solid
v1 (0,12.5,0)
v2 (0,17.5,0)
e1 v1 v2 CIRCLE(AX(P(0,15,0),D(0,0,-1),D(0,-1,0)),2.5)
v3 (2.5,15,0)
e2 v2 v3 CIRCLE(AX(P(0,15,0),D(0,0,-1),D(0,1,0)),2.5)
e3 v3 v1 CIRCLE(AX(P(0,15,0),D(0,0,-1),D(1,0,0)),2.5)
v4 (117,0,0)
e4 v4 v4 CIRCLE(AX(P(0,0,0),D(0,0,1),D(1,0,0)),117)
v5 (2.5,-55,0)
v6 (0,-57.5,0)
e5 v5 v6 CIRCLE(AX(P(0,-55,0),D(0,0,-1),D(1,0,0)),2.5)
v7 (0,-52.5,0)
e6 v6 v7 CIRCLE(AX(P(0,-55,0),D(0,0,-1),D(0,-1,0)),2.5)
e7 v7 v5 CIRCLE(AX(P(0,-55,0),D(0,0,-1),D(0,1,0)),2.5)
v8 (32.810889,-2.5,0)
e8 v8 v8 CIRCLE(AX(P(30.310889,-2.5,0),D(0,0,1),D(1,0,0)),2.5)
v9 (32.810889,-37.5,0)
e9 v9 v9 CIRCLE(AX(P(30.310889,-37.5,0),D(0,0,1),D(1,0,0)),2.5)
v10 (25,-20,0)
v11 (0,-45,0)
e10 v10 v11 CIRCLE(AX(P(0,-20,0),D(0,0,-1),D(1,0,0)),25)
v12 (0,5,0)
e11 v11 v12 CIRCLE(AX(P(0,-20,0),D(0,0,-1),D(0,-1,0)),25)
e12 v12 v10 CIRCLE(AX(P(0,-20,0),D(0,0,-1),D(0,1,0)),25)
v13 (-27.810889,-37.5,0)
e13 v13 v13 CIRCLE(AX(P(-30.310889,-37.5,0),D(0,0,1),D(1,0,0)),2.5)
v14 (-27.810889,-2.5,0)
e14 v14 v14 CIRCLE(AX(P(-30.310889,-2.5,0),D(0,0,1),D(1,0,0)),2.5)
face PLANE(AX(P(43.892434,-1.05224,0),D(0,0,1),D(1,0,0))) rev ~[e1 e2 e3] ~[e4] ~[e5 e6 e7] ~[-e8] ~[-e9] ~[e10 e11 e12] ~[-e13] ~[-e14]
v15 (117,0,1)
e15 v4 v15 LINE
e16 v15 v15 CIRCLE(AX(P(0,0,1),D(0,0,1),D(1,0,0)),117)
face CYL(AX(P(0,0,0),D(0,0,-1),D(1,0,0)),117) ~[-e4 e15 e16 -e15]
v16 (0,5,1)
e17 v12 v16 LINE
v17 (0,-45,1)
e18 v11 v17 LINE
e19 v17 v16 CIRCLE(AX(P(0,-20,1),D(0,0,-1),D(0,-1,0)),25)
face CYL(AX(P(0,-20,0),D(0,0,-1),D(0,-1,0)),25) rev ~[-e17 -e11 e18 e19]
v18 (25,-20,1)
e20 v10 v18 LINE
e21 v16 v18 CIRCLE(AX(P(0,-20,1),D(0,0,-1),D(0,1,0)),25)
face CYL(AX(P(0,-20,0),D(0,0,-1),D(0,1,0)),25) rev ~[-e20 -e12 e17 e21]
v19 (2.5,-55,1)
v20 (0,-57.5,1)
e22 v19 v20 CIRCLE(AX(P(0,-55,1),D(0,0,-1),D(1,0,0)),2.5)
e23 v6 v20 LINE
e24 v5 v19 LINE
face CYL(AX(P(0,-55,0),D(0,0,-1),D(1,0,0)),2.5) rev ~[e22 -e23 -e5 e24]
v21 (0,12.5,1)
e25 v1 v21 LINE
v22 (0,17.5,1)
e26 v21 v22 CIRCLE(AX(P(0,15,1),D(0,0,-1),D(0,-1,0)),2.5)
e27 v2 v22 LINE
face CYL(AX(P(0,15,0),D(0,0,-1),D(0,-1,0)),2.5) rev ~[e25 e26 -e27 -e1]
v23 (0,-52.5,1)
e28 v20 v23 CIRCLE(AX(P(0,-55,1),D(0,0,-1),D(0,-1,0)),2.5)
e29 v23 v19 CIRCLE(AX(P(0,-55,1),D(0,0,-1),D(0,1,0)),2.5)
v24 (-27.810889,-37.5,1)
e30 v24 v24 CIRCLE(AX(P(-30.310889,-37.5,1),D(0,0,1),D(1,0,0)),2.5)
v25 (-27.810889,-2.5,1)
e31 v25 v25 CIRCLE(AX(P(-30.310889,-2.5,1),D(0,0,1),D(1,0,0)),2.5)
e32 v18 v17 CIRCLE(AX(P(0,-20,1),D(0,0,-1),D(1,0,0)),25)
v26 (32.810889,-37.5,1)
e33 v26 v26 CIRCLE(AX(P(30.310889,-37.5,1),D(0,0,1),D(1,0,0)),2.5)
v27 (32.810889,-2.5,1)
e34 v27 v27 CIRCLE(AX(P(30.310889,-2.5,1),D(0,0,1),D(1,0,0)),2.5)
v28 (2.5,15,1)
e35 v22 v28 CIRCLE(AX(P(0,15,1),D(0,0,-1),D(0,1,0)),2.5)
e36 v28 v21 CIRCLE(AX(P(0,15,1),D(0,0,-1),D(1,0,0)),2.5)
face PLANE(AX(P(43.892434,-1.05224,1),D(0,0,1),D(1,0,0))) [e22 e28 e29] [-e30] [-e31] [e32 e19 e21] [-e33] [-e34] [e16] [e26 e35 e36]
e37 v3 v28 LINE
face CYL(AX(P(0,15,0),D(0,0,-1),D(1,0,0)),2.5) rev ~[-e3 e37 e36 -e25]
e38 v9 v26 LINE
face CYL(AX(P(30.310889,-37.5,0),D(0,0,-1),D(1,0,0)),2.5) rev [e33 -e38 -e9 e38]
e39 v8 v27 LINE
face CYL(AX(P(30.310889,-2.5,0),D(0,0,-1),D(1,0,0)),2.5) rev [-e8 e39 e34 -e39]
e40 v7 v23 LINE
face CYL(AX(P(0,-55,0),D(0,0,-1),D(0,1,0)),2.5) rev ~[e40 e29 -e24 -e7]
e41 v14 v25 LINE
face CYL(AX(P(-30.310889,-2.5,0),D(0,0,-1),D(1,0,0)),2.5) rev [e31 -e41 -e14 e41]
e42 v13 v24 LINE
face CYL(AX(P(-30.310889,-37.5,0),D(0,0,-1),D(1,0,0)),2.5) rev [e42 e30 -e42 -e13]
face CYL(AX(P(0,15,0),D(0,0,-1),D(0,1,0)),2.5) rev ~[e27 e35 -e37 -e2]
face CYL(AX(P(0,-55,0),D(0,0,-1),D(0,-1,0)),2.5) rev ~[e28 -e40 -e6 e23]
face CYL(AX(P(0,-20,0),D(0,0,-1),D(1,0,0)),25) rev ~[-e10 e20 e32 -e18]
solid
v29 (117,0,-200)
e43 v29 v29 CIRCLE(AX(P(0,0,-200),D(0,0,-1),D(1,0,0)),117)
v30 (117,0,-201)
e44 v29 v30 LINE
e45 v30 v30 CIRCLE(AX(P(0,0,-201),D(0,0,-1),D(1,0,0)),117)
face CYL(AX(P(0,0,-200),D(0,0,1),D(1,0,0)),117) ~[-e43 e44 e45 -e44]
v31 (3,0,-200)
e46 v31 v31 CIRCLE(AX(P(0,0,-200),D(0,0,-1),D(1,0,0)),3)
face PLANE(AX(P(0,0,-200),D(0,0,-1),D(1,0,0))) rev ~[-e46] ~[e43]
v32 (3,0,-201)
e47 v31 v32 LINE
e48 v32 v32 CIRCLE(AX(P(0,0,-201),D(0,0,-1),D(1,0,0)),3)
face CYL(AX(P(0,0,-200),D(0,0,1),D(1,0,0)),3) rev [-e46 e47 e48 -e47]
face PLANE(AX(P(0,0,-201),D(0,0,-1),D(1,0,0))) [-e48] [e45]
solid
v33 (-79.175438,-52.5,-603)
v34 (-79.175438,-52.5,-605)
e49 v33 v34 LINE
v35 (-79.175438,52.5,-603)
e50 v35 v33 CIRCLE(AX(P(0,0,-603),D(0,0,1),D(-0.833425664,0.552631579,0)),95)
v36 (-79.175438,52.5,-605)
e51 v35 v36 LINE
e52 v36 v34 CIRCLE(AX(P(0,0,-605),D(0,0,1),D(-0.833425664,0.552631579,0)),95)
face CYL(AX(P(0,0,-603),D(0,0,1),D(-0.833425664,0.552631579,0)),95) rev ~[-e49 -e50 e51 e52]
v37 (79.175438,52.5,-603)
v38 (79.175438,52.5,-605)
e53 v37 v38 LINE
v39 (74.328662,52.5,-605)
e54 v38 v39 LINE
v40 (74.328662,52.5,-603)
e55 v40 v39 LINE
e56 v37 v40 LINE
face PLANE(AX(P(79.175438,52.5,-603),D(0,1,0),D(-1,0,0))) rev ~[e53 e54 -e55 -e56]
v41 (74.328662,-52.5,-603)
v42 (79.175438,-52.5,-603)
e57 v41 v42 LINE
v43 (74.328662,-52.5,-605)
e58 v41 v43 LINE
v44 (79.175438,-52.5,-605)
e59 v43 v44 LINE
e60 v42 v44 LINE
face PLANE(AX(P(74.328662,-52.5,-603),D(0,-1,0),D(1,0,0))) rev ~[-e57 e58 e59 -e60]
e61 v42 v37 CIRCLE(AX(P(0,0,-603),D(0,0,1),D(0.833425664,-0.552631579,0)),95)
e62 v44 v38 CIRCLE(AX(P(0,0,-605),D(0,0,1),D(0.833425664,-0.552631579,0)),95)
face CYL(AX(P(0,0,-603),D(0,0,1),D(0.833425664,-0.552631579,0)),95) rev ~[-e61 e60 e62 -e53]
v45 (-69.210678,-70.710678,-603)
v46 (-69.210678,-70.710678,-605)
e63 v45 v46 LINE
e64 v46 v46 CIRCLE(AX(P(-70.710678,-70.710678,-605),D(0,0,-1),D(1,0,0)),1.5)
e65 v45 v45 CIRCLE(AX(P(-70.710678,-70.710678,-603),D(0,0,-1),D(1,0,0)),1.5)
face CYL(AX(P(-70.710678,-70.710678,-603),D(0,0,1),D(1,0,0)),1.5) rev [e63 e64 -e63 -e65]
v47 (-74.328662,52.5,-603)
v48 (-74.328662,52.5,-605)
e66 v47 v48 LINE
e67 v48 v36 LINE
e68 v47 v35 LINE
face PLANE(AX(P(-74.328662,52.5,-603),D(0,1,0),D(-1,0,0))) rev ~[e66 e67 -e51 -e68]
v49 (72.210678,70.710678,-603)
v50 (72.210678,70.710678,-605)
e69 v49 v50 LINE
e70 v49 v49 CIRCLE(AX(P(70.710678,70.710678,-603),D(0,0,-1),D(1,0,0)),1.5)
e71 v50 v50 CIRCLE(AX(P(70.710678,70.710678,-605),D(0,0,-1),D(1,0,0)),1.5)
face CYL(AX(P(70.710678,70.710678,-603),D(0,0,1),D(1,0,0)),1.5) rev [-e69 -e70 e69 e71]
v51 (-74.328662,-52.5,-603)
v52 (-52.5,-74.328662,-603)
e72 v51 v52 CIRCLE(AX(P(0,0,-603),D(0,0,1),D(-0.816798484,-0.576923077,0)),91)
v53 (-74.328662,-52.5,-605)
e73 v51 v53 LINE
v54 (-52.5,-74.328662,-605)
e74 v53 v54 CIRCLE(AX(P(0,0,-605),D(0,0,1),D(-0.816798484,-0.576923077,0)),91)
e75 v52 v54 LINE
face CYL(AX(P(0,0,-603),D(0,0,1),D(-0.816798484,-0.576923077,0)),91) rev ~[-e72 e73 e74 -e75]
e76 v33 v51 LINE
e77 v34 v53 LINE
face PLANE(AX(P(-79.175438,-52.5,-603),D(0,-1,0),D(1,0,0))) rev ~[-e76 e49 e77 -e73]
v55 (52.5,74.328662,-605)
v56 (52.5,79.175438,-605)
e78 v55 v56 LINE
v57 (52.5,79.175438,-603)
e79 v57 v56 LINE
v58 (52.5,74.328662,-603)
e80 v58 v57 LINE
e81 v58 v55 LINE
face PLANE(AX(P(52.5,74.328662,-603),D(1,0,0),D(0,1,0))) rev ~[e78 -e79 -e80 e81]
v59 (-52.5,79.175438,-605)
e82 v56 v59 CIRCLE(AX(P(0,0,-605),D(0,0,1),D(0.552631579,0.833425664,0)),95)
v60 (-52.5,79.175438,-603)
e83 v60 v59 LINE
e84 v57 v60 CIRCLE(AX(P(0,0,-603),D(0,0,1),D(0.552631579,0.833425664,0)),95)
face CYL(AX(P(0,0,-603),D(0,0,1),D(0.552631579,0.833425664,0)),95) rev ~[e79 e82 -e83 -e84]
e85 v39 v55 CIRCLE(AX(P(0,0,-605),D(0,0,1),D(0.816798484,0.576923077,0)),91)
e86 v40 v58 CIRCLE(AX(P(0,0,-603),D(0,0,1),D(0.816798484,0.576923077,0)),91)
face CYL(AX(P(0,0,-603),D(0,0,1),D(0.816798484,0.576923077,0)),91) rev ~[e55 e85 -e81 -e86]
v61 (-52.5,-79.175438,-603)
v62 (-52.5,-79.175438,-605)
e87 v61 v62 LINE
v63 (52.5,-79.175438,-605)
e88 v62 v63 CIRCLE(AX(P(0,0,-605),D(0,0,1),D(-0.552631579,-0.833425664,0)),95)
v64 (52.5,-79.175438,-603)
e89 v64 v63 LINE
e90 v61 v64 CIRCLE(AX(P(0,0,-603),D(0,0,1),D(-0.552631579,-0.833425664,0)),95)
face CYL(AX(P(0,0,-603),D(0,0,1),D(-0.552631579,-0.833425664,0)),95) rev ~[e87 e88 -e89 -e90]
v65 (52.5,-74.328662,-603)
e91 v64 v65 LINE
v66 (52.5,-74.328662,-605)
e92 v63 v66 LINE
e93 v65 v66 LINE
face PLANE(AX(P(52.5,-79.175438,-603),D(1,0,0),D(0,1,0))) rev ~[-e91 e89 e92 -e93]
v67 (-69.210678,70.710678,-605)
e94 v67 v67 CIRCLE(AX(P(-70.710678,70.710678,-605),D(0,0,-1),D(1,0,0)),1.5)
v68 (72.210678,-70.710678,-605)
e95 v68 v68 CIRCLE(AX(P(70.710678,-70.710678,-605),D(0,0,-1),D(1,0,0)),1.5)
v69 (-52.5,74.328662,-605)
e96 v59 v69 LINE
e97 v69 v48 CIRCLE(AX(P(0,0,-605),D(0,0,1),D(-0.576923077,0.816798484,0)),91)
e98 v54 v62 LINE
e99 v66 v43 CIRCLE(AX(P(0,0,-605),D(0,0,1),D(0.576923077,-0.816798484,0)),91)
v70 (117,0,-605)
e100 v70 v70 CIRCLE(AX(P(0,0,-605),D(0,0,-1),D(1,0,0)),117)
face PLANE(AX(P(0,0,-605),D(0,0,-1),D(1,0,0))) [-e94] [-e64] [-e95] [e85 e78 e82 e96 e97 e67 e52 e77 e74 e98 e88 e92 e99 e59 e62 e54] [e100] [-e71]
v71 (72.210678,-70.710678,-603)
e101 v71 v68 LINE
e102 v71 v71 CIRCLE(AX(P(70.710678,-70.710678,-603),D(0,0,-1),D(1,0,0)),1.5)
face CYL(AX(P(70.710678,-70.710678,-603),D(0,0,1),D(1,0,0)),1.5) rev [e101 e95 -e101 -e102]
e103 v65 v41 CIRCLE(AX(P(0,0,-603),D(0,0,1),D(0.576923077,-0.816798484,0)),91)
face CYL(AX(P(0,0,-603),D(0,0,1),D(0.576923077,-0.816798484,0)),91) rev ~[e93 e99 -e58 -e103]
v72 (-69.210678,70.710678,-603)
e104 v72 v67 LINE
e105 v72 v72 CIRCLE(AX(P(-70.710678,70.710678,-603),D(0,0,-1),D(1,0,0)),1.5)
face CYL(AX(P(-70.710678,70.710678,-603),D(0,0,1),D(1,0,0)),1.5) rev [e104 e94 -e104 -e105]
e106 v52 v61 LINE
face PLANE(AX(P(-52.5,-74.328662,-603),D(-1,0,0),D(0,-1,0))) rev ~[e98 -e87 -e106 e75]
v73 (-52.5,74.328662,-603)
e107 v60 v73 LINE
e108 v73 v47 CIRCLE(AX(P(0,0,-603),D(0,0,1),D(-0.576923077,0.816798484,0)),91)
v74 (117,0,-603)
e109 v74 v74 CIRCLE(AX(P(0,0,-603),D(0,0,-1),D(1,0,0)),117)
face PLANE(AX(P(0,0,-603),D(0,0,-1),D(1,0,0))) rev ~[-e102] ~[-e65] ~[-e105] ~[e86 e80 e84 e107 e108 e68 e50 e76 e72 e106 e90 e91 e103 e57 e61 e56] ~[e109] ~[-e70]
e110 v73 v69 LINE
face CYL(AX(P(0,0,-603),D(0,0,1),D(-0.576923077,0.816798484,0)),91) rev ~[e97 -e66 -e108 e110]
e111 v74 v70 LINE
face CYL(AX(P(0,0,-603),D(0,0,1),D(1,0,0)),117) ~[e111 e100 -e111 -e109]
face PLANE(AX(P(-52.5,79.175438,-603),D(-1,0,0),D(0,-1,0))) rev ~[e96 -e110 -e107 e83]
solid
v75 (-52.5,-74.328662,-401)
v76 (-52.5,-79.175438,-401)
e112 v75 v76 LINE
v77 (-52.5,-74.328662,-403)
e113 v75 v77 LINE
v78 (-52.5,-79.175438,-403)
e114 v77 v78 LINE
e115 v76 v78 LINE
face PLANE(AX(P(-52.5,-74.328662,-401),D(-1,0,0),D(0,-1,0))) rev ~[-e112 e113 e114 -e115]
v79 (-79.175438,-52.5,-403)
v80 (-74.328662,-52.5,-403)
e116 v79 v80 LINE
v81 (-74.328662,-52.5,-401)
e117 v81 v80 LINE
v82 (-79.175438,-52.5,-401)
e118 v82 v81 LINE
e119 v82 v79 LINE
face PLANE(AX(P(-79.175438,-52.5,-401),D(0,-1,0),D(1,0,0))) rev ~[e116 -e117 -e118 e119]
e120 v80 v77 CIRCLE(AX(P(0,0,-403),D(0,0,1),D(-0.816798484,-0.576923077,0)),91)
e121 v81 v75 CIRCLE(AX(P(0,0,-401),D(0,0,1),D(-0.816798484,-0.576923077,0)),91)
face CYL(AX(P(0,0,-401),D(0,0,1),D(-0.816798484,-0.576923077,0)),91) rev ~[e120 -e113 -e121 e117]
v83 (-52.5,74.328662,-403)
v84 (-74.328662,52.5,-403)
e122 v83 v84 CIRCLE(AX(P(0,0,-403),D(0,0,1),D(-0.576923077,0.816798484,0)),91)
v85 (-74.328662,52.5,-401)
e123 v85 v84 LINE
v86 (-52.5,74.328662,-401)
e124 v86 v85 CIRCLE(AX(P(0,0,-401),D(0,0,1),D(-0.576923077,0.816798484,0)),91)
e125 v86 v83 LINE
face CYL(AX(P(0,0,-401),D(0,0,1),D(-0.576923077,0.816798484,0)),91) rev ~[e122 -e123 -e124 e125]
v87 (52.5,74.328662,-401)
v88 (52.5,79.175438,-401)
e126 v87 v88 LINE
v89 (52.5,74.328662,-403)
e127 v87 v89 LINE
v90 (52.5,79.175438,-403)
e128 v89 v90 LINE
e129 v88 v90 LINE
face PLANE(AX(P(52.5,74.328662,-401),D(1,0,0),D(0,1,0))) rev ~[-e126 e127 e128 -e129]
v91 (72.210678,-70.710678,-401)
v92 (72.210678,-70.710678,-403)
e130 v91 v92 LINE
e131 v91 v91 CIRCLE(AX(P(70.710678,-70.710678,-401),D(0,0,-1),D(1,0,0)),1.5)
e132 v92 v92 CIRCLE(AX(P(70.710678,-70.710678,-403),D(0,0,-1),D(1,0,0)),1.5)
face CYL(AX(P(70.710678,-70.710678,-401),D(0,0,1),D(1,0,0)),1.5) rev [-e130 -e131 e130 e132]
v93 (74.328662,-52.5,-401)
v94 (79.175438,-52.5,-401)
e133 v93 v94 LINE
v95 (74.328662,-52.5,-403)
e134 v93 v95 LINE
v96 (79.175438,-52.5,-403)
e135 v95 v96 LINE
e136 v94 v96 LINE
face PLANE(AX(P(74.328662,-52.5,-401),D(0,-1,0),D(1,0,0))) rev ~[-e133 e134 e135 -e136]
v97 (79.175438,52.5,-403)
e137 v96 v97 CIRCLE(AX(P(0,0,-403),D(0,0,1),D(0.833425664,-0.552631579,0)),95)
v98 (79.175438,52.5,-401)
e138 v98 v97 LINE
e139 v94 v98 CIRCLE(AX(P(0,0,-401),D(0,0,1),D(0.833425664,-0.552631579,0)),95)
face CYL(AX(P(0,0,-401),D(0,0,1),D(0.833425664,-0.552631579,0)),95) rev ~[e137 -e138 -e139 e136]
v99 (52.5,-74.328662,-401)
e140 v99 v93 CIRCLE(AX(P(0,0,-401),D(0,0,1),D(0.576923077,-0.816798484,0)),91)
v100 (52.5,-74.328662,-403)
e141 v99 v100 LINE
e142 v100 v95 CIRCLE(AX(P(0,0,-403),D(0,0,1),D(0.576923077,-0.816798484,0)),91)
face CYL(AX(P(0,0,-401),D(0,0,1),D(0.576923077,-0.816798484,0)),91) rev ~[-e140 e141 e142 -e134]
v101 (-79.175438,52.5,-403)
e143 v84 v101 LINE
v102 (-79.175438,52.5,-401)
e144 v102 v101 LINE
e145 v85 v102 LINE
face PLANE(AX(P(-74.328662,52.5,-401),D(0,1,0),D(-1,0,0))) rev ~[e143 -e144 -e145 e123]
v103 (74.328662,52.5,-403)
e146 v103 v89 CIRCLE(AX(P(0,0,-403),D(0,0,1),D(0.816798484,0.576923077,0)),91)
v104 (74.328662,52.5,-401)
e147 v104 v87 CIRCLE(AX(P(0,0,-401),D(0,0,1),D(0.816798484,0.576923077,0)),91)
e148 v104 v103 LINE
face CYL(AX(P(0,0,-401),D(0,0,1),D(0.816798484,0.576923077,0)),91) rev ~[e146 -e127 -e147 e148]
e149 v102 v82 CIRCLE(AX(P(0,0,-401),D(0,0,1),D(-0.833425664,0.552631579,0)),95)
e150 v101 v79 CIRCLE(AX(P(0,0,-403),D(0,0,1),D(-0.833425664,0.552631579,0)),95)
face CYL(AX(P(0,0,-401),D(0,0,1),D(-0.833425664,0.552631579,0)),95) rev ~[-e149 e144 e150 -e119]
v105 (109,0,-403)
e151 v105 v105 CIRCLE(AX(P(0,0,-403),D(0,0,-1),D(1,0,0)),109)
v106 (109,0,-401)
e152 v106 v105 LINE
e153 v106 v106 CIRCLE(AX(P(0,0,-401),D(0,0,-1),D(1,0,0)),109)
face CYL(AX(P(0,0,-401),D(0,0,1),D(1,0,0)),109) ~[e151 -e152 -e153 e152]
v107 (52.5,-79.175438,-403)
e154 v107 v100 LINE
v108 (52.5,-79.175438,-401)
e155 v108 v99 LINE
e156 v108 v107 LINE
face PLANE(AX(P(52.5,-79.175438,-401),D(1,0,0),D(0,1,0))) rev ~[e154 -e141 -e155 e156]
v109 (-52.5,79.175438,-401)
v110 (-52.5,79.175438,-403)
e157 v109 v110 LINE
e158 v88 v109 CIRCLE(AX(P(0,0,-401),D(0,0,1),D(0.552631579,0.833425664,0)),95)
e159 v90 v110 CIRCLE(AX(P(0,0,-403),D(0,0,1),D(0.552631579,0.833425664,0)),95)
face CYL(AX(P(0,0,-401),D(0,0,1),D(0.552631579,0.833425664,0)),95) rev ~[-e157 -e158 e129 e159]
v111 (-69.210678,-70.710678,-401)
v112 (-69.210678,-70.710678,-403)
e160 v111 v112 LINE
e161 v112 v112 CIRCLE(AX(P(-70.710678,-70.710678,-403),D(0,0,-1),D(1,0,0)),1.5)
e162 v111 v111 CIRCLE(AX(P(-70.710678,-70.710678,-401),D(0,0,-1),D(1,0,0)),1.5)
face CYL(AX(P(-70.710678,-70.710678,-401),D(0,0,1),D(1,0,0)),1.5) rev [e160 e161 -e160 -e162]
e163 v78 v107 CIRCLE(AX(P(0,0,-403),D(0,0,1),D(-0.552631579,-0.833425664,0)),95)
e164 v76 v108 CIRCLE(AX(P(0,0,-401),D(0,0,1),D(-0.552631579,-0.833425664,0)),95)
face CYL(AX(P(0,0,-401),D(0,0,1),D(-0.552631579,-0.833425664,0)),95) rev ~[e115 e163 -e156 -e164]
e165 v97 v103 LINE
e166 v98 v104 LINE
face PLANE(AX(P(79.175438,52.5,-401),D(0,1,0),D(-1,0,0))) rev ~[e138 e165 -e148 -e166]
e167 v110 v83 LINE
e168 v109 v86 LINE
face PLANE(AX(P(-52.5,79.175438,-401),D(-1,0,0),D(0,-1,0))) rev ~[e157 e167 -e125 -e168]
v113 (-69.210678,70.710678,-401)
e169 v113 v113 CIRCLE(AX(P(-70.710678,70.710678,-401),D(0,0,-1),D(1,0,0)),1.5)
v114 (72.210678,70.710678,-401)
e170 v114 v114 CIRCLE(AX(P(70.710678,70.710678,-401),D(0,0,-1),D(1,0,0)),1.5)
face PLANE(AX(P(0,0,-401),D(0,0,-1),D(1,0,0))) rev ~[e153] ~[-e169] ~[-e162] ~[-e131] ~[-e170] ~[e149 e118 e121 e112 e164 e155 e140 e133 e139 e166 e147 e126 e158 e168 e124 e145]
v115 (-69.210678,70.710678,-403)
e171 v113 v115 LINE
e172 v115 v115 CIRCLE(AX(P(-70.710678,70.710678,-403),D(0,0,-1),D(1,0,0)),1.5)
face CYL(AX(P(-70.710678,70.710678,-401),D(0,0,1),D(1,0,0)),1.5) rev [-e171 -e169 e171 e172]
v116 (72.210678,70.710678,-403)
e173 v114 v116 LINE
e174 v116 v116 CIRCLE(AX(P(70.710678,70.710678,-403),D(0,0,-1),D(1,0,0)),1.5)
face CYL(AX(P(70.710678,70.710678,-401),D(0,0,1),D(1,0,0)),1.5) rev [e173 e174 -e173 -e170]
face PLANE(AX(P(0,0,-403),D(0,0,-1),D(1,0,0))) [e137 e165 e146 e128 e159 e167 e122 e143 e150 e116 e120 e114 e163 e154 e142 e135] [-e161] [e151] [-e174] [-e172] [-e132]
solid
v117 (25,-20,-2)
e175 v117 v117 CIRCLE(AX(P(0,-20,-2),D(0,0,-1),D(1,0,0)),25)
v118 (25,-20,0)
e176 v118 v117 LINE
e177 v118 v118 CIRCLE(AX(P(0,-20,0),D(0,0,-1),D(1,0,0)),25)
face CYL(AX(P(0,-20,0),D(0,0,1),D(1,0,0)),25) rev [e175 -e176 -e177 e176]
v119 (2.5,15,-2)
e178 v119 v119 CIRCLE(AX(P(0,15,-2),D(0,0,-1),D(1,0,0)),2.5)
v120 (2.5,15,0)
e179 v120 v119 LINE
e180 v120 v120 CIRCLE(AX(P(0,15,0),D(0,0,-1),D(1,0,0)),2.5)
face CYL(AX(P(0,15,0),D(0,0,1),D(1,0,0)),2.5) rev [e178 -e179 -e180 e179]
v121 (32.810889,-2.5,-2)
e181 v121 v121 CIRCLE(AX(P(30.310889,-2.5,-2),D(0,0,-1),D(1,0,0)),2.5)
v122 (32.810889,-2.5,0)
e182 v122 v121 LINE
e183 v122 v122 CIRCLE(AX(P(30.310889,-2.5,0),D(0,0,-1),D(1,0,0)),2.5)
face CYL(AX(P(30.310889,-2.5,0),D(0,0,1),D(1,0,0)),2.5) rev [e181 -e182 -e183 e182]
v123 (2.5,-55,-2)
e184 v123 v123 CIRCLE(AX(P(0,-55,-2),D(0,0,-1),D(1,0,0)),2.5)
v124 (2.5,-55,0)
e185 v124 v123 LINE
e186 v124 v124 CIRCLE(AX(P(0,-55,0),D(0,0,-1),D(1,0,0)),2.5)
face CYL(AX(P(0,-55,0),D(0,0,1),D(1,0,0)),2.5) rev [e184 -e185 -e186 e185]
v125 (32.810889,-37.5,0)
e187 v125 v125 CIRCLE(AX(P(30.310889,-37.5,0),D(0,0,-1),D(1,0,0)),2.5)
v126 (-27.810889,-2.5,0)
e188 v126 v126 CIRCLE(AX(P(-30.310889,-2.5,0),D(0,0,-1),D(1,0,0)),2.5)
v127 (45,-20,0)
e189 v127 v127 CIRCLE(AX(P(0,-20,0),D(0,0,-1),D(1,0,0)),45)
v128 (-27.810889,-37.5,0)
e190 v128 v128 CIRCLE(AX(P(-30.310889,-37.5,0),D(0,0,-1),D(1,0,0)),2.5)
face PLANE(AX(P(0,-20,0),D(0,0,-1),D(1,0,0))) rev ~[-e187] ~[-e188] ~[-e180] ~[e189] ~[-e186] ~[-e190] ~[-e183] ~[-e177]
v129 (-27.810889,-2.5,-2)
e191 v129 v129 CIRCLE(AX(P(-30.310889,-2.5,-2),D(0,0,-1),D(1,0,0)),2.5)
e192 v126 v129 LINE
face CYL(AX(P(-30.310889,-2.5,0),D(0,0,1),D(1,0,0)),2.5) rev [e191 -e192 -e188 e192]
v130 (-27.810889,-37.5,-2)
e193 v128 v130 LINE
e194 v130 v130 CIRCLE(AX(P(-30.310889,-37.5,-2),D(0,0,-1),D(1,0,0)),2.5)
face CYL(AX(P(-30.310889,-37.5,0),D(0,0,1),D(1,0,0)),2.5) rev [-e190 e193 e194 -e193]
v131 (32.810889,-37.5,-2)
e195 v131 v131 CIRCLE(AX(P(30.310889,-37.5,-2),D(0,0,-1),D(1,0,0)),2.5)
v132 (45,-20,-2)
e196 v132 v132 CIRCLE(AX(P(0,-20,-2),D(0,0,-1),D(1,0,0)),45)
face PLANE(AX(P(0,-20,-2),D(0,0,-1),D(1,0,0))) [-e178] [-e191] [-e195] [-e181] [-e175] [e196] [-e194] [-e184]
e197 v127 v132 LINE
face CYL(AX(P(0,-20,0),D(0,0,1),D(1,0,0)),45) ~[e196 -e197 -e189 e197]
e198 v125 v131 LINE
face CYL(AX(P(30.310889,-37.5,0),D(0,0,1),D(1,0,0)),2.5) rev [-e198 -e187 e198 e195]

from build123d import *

# Parameters (mm, degrees)
F0_R      = 2.5
F1_DEPTH  = 1
F2_R      = 45
F2_R_2    = 2.5
F2_R_3    = 25
F3_DEPTH  = 2
F5_R      = 117
F5_R_2    = 3
F6_DEPTH  = 1
F8_R      = 109
F8_R_2    = 1.5
F9_DEPTH  = 2
F11_R     = 117
F11_R_2   = 1.5
F12_DEPTH = 2


with BuildPart() as f1:
    # F0 (on Top) → F1 (new body)
    with BuildSketch(Plane.XY):
        with BuildLine():
            ThreePointArc((0, -117), (82.7314933988, -82.7314933988), (117, 0))
            ThreePointArc((117, 0), (82.7314933988, 82.7314933988), (0, 117))
            Line((0, 117), (0, 17.5))
            ThreePointArc((0, 17.5), (1.767766953, 16.767766953), (2.5, 15))
            ThreePointArc((2.5, 15), (1.767766953, 13.232233047), (0, 12.5))
            Line((0, 12.5), (0, 5))
            ThreePointArc((0, 5), (17.6776695297, -2.3223304703), (25, -20))
            ThreePointArc((25, -20), (17.6776695297, -37.6776695297), (0, -45))
            Line((0, -45), (0, -52.5))
            ThreePointArc((0, -52.5), (1.767766953, -53.232233047), (2.5, -55))
            ThreePointArc((2.5, -55), (1.767766953, -56.767766953), (0, -57.5))
            Line((0, -57.5), (0, -117))
        make_face()
        with Locations((30.3108891325, -37.5)):
            Circle(F0_R, mode=Mode.SUBTRACT)
        with Locations((30.3108891325, -2.5)):
            Circle(F0_R, mode=Mode.SUBTRACT)
        with BuildLine():
            Line((0, 17.5), (0, 117))
            ThreePointArc((0, 117), (-117, 0), (0, -117))
            Line((0, -117), (0, -57.5))
            ThreePointArc((0, -57.5), (-2.5, -55), (0, -52.5))
            Line((0, -52.5), (0, -45))
            ThreePointArc((0, -45), (-25, -20), (0, 5))
            Line((0, 5), (0, 12.5))
            ThreePointArc((0, 12.5), (-2.5, 15), (0, 17.5))
        make_face()
        with Locations((-30.3108891325, -37.5)):
            Circle(F0_R, mode=Mode.SUBTRACT)
        with Locations((-30.3108891325, -2.5)):
            Circle(F0_R, mode=Mode.SUBTRACT)
    extrude(amount=F1_DEPTH)


with BuildPart() as f3:
    # F2 (on face) → F3 (new body)
    with BuildSketch(Plane(origin=(0, 0, 0), x_dir=(1, 0, 0), z_dir=(0, 0, -1))):
        with Locations((0, 20)):
            Circle(F2_R)
        with Locations((-30.3108891325, 2.5)):
            Circle(F2_R_2, mode=Mode.SUBTRACT)
        with Locations((0, -15)):
            Circle(F2_R_2, mode=Mode.SUBTRACT)
        with Locations((30.3108891325, 2.5)):
            Circle(F2_R_2, mode=Mode.SUBTRACT)
        with Locations((-30.3108891325, 37.5)):
            Circle(F2_R_2, mode=Mode.SUBTRACT)
        with Locations((0, 20)):
            Circle(F2_R_3, mode=Mode.SUBTRACT)
        with Locations((30.3108891325, 37.5)):
            Circle(F2_R_2, mode=Mode.SUBTRACT)
        with Locations((0, 55)):
            Circle(F2_R_2, mode=Mode.SUBTRACT)
        with Locations((0, 20)):
            Circle(F2_R)
        with Locations((0, -15)):
            Circle(F2_R_2, mode=Mode.SUBTRACT)
        with Locations((-30.3108891325, 2.5)):
            Circle(F2_R_2, mode=Mode.SUBTRACT)
        with Locations((-30.3108891325, 37.5)):
            Circle(F2_R_2, mode=Mode.SUBTRACT)
        with Locations((0, 20)):
            Circle(F2_R_3, mode=Mode.SUBTRACT)
        with Locations((30.3108891325, 2.5)):
            Circle(F2_R_2, mode=Mode.SUBTRACT)
        with Locations((0, 55)):
            Circle(F2_R_2, mode=Mode.SUBTRACT)
        with Locations((30.3108891325, 37.5)):
            Circle(F2_R_2, mode=Mode.SUBTRACT)
    extrude(amount=F3_DEPTH)


with BuildPart() as f6:
    # F5 (on offset) → F6 (new body)
    with BuildSketch(Plane(origin=(0, 0, -200), x_dir=(1, 0, 0), z_dir=(0, 0, -1))):
        Circle(F5_R)
        Circle(F5_R_2, mode=Mode.SUBTRACT)
    extrude(amount=F6_DEPTH)


with BuildPart() as f9:
    # F8 (on offset) → F9 (new body)
    with BuildSketch(Plane(origin=(0, 0, -401), x_dir=(1, 0, 0), z_dir=(0, 0, -1))):
        Circle(F8_R)
        with Locations((-70.7106781187, -70.7106781187)):
            Circle(F8_R_2, mode=Mode.SUBTRACT)
        with Locations((70.7106781187, -70.7106781187)):
            Circle(F8_R_2, mode=Mode.SUBTRACT)
        with Locations((-70.7106781187, 70.7106781187)):
            Circle(F8_R_2, mode=Mode.SUBTRACT)
        with BuildLine():
            ThreePointArc((-52.5, -74.3286620356), (-64.346717088, -64.346717088), (-74.3286620356, -52.5))
            Line((-74.3286620356, -52.5), (-79.1754381106, -52.5))
            ThreePointArc((-79.1754381106, -52.5), (-95, 0), (-79.1754381106, 52.5))
            Line((-79.1754381106, 52.5), (-74.3286620356, 52.5))
            ThreePointArc((-74.3286620356, 52.5), (-64.346717088, 64.346717088), (-52.5, 74.3286620356))
            Line((-52.5, 74.3286620356), (-52.5, 79.1754381106))
            ThreePointArc((-52.5, 79.1754381106), (0, 95), (52.5, 79.1754381106))
            Line((52.5, 79.1754381106), (52.5, 74.3286620356))
            ThreePointArc((52.5, 74.3286620356), (64.346717088, 64.346717088), (74.3286620356, 52.5))
            Line((74.3286620356, 52.5), (79.1754381106, 52.5))
            ThreePointArc((79.1754381106, 52.5), (95, 0), (79.1754381106, -52.5))
            Line((79.1754381106, -52.5), (74.3286620356, -52.5))
            ThreePointArc((74.3286620356, -52.5), (64.346717088, -64.346717088), (52.5, -74.3286620356))
            Line((52.5, -74.3286620356), (52.5, -79.1754381106))
            ThreePointArc((52.5, -79.1754381106), (0, -95), (-52.5, -79.1754381106))
            Line((-52.5, -79.1754381106), (-52.5, -74.3286620356))
        make_face(mode=Mode.SUBTRACT)
        with Locations((70.7106781187, 70.7106781187)):
            Circle(F8_R_2, mode=Mode.SUBTRACT)
    extrude(amount=F9_DEPTH)


with BuildPart() as f12:
    # F11 (on offset) → F12 (new body)
    with BuildSketch(Plane(origin=(0, 0, -603), x_dir=(1, 0, 0), z_dir=(0, 0, -1))):
        Circle(F11_R)
        with Locations((-70.7106781187, -70.7106781187)):
            Circle(F11_R_2, mode=Mode.SUBTRACT)
        with Locations((70.7106781187, -70.7106781187)):
            Circle(F11_R_2, mode=Mode.SUBTRACT)
        with Locations((-70.7106781187, 70.7106781187)):
            Circle(F11_R_2, mode=Mode.SUBTRACT)
        with BuildLine():
            ThreePointArc((-79.1754381106, -52.5), (-95, 0), (-79.1754381106, 52.5))
            Line((-79.1754381106, 52.5), (-74.3286620356, 52.5))
            ThreePointArc((-74.3286620356, 52.5), (-64.346717088, 64.346717088), (-52.5, 74.3286620356))
            Line((-52.5, 74.3286620356), (-52.5, 79.1754381106))
            ThreePointArc((-52.5, 79.1754381106), (0, 95), (52.5, 79.1754381106))
            Line((52.5, 79.1754381106), (52.5, 74.3286620356))
            ThreePointArc((52.5, 74.3286620356), (64.346717088, 64.346717088), (74.3286620356, 52.5))
            Line((74.3286620356, 52.5), (79.1754381106, 52.5))
            ThreePointArc((79.1754381106, 52.5), (95, 0), (79.1754381106, -52.5))
            Line((79.1754381106, -52.5), (74.3286620356, -52.5))
            ThreePointArc((74.3286620356, -52.5), (64.346717088, -64.346717088), (52.5, -74.3286620356))
            Line((52.5, -74.3286620356), (52.5, -79.1754381106))
            ThreePointArc((52.5, -79.1754381106), (0, -95), (-52.5, -79.1754381106))
            Line((-52.5, -79.1754381106), (-52.5, -74.3286620356))
            ThreePointArc((-52.5, -74.3286620356), (-64.346717088, -64.346717088), (-74.3286620356, -52.5))
            Line((-74.3286620356, -52.5), (-79.1754381106, -52.5))
        make_face(mode=Mode.SUBTRACT)
        with Locations((70.7106781187, 70.7106781187)):
            Circle(F11_R_2, mode=Mode.SUBTRACT)
    extrude(amount=F12_DEPTH)


solid = Compound([f1.part, f3.part, f6.part, f9.part, f12.part])
